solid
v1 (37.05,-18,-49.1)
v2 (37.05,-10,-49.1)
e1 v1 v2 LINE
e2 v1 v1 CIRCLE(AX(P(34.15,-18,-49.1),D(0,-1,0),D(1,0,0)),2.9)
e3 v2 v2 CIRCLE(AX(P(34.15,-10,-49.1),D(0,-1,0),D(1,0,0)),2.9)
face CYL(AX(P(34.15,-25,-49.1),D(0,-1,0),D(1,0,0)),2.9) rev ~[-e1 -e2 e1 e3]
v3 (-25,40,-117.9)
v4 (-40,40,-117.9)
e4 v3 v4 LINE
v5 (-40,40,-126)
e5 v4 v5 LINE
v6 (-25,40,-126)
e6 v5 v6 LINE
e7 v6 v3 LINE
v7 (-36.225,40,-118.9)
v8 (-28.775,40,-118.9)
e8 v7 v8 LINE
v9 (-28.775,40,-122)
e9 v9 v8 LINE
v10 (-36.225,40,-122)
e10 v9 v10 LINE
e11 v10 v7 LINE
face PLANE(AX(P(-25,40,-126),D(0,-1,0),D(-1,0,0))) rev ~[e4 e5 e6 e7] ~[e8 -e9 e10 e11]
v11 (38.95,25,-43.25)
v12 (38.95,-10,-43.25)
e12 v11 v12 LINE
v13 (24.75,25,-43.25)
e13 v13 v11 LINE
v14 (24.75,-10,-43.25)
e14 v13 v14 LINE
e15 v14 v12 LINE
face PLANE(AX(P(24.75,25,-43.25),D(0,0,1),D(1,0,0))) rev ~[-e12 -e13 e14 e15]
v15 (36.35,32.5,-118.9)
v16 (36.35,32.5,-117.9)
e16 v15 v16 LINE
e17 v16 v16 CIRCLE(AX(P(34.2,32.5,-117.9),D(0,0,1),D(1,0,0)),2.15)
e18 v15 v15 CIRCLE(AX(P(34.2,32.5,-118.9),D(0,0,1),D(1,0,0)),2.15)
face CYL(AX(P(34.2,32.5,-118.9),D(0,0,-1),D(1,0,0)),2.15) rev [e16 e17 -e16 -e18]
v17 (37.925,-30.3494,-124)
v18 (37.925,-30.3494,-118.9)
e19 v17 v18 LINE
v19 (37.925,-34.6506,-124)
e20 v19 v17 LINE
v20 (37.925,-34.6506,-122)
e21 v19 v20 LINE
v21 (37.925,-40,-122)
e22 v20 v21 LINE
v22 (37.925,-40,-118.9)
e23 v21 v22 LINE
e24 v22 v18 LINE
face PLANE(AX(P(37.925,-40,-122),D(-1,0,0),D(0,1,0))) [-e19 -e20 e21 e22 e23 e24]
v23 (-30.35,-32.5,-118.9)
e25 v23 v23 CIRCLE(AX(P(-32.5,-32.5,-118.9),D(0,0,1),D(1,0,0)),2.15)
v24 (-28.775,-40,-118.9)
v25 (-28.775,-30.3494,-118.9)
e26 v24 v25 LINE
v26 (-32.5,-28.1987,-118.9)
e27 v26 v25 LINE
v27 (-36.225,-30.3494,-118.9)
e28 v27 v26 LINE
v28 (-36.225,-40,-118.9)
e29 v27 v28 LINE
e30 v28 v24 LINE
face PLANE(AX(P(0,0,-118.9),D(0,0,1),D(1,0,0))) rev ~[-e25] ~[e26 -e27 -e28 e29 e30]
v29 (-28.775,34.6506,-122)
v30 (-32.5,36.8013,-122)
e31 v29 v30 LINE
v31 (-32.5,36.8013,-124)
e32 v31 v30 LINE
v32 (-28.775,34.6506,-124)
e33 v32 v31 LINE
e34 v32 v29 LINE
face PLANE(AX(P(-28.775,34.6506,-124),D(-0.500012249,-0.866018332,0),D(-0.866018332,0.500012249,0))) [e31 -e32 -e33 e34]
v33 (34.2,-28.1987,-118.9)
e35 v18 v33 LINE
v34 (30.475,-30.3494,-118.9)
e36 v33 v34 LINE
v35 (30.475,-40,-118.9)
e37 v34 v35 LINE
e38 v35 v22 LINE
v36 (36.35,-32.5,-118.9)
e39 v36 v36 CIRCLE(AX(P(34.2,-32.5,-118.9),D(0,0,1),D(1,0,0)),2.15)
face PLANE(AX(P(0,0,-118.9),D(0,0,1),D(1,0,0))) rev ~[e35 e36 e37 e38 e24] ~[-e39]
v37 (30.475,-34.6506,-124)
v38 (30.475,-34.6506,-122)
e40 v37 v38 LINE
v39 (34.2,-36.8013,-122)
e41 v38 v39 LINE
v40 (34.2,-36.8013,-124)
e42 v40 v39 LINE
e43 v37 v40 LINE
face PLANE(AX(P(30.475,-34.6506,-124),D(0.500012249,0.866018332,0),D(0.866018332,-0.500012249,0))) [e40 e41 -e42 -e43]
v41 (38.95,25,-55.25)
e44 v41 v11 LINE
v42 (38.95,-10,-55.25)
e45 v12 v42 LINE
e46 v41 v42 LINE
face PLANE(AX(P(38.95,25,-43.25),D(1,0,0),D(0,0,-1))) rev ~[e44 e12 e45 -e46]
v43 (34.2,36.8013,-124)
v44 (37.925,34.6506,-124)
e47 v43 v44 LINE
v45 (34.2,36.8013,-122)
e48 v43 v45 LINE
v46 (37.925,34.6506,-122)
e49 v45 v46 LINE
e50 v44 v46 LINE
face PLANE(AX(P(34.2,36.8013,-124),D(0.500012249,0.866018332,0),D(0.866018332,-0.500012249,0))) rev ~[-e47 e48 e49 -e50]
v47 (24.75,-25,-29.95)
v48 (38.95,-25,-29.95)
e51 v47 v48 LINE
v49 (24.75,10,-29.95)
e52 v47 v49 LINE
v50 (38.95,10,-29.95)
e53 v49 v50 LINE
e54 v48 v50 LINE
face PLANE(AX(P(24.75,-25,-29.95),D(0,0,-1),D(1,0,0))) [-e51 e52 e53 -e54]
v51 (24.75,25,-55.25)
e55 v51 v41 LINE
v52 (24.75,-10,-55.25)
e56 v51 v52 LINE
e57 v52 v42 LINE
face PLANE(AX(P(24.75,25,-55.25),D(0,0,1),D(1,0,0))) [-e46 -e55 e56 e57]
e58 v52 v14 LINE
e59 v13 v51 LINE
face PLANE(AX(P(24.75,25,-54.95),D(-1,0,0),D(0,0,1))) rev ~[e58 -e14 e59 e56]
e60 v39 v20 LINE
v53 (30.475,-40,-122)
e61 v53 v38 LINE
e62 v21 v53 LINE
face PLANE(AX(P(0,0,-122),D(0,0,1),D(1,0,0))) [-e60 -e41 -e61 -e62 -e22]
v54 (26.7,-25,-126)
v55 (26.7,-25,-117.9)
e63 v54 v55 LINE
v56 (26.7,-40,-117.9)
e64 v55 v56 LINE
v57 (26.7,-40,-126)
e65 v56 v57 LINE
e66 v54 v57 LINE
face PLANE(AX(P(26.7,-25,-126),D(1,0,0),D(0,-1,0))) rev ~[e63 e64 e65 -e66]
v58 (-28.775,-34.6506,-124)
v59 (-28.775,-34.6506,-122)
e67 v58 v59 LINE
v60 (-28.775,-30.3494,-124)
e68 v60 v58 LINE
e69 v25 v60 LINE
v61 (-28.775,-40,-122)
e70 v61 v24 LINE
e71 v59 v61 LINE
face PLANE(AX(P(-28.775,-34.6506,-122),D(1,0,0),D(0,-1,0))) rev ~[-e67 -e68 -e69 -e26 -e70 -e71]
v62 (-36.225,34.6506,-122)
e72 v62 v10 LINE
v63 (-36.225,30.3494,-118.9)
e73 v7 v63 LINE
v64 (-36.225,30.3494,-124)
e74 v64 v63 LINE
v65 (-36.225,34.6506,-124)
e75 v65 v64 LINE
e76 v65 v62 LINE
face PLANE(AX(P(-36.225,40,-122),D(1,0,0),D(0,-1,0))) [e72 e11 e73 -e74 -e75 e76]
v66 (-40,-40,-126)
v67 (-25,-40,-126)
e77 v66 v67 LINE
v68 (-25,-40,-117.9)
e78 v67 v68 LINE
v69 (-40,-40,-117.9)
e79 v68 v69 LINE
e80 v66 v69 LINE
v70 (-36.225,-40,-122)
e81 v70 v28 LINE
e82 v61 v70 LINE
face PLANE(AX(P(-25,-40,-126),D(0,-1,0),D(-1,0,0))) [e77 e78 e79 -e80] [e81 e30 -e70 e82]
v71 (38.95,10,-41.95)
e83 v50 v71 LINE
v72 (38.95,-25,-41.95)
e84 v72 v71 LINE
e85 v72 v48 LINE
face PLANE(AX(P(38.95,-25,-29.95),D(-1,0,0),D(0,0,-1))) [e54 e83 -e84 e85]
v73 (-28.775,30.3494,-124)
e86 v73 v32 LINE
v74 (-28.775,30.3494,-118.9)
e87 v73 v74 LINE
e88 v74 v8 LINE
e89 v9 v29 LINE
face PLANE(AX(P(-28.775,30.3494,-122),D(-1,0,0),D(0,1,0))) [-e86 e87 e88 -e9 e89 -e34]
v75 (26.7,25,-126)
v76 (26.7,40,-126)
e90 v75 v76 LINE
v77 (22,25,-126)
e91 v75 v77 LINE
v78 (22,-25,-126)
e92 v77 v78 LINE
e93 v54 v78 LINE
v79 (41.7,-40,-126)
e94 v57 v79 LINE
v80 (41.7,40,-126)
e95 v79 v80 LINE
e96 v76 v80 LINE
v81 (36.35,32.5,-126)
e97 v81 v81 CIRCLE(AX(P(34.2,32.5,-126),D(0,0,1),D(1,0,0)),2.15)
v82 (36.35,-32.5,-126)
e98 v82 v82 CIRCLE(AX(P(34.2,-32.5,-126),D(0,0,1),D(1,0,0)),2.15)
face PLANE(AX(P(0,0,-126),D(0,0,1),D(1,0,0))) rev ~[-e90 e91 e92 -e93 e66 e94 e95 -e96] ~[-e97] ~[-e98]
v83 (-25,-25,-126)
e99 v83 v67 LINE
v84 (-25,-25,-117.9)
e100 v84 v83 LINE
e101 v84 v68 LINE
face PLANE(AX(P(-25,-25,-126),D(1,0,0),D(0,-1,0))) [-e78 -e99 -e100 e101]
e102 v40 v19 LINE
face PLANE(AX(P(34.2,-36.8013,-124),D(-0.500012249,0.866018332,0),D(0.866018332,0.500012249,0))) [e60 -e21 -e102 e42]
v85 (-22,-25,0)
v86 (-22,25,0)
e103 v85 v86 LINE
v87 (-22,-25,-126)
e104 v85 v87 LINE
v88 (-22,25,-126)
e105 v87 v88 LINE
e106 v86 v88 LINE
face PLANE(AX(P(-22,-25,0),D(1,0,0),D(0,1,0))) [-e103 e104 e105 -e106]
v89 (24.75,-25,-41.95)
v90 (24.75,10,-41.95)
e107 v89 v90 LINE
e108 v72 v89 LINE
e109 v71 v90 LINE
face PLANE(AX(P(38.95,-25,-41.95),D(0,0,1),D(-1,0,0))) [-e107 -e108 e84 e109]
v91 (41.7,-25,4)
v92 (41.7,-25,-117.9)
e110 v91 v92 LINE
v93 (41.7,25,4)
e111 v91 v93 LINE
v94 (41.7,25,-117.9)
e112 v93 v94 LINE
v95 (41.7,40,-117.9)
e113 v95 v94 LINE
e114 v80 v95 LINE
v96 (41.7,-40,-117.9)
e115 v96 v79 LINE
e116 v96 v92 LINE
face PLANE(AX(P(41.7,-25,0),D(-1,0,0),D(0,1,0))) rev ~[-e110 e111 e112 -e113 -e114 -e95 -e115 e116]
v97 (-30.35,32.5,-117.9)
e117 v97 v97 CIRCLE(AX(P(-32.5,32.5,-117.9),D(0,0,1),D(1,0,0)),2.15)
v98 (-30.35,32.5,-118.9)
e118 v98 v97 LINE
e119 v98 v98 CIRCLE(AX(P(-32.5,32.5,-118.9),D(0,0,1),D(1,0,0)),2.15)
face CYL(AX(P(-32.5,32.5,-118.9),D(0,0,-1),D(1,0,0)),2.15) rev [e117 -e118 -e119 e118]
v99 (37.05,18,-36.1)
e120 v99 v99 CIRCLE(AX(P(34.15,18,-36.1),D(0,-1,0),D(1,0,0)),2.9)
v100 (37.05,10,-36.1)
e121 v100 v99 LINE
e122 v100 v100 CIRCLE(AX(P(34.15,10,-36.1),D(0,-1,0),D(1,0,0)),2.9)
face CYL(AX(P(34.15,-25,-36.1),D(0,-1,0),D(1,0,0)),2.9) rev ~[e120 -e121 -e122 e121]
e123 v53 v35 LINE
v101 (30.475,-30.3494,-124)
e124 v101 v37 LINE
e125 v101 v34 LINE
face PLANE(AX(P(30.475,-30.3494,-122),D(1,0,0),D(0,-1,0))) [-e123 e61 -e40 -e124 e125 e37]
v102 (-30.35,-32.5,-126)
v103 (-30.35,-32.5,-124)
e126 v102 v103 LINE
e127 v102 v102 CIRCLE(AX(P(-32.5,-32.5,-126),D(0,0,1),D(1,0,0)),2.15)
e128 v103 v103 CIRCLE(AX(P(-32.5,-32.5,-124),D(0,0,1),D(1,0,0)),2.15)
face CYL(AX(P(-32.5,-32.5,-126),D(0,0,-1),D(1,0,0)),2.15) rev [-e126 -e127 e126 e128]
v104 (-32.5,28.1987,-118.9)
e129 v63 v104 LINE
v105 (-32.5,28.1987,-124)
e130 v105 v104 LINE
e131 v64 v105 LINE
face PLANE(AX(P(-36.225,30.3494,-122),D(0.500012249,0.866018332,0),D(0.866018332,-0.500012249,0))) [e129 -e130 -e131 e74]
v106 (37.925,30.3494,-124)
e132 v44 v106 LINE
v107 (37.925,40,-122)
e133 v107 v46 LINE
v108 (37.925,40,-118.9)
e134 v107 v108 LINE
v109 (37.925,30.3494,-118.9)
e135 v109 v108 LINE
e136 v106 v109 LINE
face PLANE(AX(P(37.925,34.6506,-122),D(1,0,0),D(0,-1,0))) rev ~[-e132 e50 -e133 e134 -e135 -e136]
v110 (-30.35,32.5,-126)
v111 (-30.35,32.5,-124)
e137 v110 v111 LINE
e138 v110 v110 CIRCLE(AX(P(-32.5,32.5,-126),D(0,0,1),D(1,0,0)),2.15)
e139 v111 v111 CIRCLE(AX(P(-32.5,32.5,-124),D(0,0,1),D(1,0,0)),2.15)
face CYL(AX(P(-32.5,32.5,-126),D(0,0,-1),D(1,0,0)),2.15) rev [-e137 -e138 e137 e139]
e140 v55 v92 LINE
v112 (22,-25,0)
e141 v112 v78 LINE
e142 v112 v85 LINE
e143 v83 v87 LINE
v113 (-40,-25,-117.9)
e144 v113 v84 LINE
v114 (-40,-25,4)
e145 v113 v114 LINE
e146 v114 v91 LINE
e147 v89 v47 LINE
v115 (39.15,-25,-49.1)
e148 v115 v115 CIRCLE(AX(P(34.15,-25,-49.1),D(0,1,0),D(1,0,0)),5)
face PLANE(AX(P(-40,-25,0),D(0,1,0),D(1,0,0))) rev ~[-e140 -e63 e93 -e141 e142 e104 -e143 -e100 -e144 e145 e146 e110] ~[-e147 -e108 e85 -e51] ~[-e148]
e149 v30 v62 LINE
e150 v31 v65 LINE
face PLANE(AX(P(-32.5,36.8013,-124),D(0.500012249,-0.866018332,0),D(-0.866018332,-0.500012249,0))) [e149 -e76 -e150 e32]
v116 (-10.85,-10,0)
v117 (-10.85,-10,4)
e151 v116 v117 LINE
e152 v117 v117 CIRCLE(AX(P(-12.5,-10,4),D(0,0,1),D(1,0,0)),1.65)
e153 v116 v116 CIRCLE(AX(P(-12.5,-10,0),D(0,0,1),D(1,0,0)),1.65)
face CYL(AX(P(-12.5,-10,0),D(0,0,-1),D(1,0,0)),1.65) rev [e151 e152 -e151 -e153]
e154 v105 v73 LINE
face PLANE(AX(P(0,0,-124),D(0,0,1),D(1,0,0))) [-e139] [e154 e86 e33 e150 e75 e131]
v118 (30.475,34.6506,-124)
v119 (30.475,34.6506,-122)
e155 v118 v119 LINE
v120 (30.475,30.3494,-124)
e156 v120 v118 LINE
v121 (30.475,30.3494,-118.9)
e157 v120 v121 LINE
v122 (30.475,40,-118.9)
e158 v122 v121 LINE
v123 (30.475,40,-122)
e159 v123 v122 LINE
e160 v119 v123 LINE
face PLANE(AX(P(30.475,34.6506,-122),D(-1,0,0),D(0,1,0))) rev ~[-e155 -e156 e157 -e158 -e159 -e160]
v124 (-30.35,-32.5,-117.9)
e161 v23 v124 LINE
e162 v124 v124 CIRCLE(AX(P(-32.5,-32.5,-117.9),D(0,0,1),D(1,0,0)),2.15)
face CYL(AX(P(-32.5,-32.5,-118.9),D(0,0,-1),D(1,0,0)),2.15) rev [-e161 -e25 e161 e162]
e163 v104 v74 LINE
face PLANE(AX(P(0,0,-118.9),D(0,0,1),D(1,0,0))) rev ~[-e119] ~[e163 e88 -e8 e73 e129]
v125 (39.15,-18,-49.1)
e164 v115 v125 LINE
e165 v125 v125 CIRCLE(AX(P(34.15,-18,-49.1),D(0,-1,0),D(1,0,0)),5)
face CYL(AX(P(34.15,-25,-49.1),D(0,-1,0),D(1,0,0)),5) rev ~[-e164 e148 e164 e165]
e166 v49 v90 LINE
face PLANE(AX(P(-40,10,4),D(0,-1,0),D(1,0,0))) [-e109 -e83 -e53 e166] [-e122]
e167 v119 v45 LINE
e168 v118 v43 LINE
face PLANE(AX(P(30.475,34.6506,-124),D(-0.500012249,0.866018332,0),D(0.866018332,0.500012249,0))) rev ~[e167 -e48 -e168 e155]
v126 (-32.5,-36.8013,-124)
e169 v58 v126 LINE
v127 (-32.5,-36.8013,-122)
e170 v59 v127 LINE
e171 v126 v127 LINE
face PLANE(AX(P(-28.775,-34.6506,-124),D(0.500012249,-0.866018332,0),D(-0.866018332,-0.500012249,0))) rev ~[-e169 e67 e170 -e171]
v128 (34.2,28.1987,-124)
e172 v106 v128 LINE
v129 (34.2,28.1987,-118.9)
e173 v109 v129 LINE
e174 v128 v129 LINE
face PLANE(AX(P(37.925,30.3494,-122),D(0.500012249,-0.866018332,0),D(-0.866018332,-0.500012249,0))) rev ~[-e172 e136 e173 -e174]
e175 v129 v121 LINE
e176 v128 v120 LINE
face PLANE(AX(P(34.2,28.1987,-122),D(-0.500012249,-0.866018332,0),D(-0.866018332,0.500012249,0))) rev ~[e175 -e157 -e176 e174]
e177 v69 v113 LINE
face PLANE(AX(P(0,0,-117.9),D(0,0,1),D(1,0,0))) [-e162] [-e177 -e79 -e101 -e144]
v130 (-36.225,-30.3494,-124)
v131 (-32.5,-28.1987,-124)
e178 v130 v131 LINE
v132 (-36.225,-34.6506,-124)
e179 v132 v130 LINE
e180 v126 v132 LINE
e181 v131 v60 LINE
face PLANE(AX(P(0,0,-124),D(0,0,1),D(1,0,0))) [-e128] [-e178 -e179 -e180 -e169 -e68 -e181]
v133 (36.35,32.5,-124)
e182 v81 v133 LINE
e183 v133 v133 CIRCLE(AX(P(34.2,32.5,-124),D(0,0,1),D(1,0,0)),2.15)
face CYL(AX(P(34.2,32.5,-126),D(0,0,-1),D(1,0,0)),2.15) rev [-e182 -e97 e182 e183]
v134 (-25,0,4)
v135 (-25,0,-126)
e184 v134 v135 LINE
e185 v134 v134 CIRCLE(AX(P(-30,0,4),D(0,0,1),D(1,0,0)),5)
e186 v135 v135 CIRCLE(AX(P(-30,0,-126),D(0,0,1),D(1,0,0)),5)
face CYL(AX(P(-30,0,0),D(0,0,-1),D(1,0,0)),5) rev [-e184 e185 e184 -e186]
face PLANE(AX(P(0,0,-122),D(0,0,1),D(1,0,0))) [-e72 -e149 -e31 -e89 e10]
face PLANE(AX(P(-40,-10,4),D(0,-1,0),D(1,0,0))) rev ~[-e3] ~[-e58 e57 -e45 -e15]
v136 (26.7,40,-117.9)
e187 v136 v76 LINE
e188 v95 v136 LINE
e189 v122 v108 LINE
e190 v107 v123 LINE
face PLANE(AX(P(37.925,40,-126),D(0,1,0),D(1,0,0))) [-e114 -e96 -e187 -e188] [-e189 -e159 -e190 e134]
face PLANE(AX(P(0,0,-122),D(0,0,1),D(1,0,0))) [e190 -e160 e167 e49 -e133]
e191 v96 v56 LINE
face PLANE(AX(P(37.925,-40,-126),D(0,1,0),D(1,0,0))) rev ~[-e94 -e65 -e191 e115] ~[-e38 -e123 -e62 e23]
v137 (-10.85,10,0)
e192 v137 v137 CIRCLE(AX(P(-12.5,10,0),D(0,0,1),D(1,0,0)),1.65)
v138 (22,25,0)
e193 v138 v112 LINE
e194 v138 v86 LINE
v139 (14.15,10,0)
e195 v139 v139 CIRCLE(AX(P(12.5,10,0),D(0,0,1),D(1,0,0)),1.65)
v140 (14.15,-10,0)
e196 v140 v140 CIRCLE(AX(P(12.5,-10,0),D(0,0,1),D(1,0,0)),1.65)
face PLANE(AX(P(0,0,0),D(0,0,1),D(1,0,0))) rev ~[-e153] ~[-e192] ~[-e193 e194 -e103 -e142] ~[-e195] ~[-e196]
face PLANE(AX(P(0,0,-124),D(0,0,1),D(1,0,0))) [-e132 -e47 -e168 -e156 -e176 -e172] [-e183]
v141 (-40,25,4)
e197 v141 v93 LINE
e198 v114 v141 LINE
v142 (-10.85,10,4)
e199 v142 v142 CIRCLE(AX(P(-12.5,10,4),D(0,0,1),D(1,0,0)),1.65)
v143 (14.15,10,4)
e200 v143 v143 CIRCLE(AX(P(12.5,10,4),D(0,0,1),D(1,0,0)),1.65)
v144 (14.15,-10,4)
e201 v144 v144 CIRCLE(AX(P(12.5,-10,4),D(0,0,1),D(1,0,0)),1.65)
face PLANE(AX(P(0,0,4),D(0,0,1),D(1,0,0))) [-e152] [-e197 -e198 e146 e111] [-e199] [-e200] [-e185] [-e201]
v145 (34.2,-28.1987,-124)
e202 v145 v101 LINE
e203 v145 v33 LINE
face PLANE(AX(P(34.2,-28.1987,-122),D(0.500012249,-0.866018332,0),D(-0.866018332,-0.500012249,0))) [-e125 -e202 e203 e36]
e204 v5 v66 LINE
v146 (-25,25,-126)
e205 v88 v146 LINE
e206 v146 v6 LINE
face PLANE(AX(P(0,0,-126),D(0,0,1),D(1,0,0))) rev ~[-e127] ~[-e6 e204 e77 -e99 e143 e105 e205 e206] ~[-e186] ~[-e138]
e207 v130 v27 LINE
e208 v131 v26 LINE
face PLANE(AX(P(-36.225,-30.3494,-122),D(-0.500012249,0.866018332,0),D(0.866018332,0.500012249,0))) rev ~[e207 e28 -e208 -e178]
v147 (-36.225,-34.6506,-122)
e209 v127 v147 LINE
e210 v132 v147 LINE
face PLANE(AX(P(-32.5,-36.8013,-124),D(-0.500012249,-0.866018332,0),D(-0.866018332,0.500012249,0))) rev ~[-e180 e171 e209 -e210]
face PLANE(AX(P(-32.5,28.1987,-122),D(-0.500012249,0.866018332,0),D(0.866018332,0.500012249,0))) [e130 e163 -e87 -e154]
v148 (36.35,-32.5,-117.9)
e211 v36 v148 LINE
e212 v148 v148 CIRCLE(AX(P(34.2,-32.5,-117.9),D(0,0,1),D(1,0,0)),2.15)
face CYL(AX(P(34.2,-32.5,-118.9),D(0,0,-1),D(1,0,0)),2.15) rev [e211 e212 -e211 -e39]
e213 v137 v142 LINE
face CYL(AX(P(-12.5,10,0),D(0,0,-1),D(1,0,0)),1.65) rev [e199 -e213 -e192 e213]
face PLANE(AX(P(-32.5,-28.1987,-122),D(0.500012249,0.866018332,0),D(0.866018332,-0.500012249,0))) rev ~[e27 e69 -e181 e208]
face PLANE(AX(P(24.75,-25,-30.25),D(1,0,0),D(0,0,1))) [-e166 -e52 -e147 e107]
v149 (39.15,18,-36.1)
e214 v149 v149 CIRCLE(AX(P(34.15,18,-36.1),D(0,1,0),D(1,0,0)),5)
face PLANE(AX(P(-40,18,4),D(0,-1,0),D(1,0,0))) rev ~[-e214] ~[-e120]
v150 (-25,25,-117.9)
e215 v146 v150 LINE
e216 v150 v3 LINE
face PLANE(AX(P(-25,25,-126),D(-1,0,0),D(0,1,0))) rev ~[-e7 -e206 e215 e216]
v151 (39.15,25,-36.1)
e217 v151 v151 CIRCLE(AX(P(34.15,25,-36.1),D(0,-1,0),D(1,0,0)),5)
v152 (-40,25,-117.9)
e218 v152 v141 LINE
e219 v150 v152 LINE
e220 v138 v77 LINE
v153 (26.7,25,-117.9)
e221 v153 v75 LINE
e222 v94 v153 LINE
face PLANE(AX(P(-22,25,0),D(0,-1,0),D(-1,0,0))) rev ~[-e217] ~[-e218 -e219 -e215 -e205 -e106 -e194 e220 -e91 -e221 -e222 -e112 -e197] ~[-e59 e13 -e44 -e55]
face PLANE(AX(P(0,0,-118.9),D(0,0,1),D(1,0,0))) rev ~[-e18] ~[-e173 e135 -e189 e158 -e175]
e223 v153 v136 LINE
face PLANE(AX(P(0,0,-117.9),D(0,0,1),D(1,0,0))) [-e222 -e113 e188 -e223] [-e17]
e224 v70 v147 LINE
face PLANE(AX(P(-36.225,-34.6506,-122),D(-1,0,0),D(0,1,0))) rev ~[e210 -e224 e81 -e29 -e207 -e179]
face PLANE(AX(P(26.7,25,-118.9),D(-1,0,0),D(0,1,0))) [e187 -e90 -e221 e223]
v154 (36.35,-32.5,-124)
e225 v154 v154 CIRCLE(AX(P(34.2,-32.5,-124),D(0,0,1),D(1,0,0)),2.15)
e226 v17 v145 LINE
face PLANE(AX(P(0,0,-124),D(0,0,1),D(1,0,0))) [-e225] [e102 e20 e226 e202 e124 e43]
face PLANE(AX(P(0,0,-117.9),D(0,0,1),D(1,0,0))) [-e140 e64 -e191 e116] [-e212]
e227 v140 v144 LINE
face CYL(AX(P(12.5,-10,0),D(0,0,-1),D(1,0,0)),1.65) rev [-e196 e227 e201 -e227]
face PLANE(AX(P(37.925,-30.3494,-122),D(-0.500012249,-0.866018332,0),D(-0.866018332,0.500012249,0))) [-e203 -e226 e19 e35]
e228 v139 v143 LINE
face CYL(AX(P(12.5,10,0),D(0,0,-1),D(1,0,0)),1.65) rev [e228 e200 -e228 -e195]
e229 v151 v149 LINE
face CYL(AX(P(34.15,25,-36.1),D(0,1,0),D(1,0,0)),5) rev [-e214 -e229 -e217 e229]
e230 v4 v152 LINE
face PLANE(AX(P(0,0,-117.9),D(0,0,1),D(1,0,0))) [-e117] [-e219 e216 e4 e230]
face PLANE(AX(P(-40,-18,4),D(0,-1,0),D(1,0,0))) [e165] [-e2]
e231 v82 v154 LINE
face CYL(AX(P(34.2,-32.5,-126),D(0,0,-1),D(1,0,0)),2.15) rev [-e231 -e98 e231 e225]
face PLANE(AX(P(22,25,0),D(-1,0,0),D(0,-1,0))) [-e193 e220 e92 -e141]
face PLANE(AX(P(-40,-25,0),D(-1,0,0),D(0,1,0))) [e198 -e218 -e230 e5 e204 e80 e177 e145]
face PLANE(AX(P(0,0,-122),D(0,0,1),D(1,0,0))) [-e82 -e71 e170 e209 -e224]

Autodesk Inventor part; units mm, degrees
sketch "S-ProbeHead-BaseSkizze" plane through (0, 0, 0) normal (0, 0, 1) x (1, 0, 0)
  line L0 (-40, 40) -> (40, 40)
  line L1 (40, 40) -> (40, -40)
  line L2 (40, -40) -> (-40, -40)
  line L3 (-40, -40) -> (-40, 40)
  line L4 (-40, 40) -> (40, -40) construction
  line L5 (40, 40) -> (-40, -40) construction
  line L6 (-56.34, 0) -> (58.04, 0) construction
  circle A0 centre (-30, 0) radius 5
  line L7 (0, 83.0683) -> (0, -88.0384) construction
  line L8 (-7.5, 58.6245) -> (-7.5, -60.8735) construction
  line L9 (-16, 21) -> (16, 21) construction
  line L10 (16, 21) -> (16, -21) construction
  line L11 (16, -21) -> (-16, -21) construction
  line L12 (-16, -21) -> (-16, 21) construction
  line L13 (-16, 21) -> (16, -21) construction
  line L14 (16, 21) -> (-16, -21) construction
  circle A1 centre (-12.5, -10) radius 1.65
  circle A2 centre (-12.5, 10) radius 1.65
  circle A3 centre (12.5, -10) radius 1.65
  circle A4 centre (12.5, 10) radius 1.65
  line L15 (-20, 57.6709) -> (-20, -63.5946)
  line L16 (7.5, 58.6245) -> (7.5, -60.8735) construction
  line L17 (20, 57.6709) -> (20, -63.5946)
  line L18 (41.7, 25) -> (-40, 25)
  line L19 (-40, 25) -> (-40, -25)
  line L20 (-40, -25) -> (41.7, -25)
  line L21 (41.7, -25) -> (41.7, 25)
  line L22 (22, 25) -> (22, -25)
  line L23 (-22, -25) -> (-22, 25)
  point P0 (0, 0)
  point P1 (41.7, 0)
  dimension "d1" = 80
  dimension "d2" = 80
  dimension "d4" = 10
  dimension "d6" = 30
  dimension "d20" = 7.5
  dimension "d21" = 32
  dimension "d22" = 42
  dimension "d23" = 3.3
  dimension "d24" = 10
  dimension "d25" = 12.5
  dimension "d26" = 20
  dimension "d27" = 50
  dimension "d30" = 20
  dimension "d31" = 21.7
  dimension "d32" = 2
  dimension "d37" = 2
extrude "BasePlate" add sketch "S-ProbeHead-BaseSkizze" along normal blind 4 contours L18 L23 L20 L3 | L18 L17 L20 L15 | L15 L20 L23 L18 | L18 L22 L20 L17 | L18 L21 L20 L1 | L1 L20 L22 L18
ref_plane "Endfläche-ProbeHeadarme" through (0, 0, -126) normal (0, 0, 1) x (1, 0, 0)
ref_plane "ProfilDownside" through (0, 0, -56) normal (0, 0, 1) x (1, 0, 0)
extrude "Arms" add sketch "S-ProbeHead-BaseSkizze" against normal up to surface (126 mm away) contours L18 L23 L20 L3 | L18 L21 L20 L1 | L1 L20 L22 L18
ref_plane "Z-UpperBelt" through (0, 0, -36.1) normal (0, 0, 1) x (1, 0, 0)
ref_plane "Z-LowerBelt" through (0, 0, -49.1) normal (0, 0, 1) x (1, 0, 0)
ref_plane "X-Belts" through (26.75, 0, 0) normal (1, 0, 0) x (0, 1, 0)
sketch "S-Tensioners" plane through (-40, -25, 4) normal (0, -1, 0) x (1, 0, 0)
  line L0 (64.75, -47.25) -> (78.95, -47.25)
  line L1 (78.95, -47.25) -> (78.95, -58.95)
  line L2 (78.95, -58.95) -> (64.75, -58.95)
  line L3 (64.75, -58.95) -> (64.75, -47.25)
  line L4 (64.75, -47.25) -> (78.95, -58.95) construction
  line L5 (78.95, -47.25) -> (64.75, -58.95) construction
  line L6 (71.85, -74) -> (71.85, 12.5724) construction
  line L7 (-16.34, -40.1) -> (98.04, -40.1) construction
  line L8 (-16.34, -53.1) -> (98.04, -53.1) construction
  circle A0 centre (74.15, -53.1) radius 2.9
  line L9 (64.75, -34.25) -> (78.95, -34.25)
  line L10 (78.95, -34.25) -> (78.95, -45.95)
  line L11 (78.95, -45.95) -> (64.75, -45.95)
  line L12 (64.75, -45.95) -> (64.75, -34.25)
  line L13 (64.75, -34.25) -> (78.95, -45.95) construction
  line L14 (78.95, -34.25) -> (64.75, -45.95) construction
  circle A1 centre (74.15, -40.1) radius 2.9
  circle A2 centre (74.15, -40.1) radius 5
  circle A3 centre (74.15, -53.1) radius 5
  line L15 (66.75, 41.0869) -> (66.75, -158.5145) construction
  line L16 (78.95, -34.25) -> (64.75, -34.25)
  line L17 (64.75, -34.25) -> (64.75, -33.95)
  line L18 (64.75, -33.95) -> (78.95, -33.95)
  line L19 (78.95, -33.95) -> (78.95, -34.25)
  line L20 (78.95, -58.95) -> (64.75, -58.95)
  line L21 (64.75, -58.95) -> (64.75, -59.25)
  line L22 (64.75, -59.25) -> (78.95, -59.25)
  line L23 (78.95, -59.25) -> (78.95, -58.95)
  point P0 (40, -4)
  point P1 (78.95, -40.1)
  point P2 (78.95, -53.1)
  dimension "d38" = 14.2
  dimension "d39" = 11.7
  dimension "d42" = 5.8
  dimension "d43" = 14.2
  dimension "d44" = 11.7
  dimension "d45" = 5.8
  dimension "d53" = 4.8
  dimension "d54" = 4.8
  dimension "d55" = 10
  dimension "d56" = 10
  dimension "d58" = 7.4
  dimension "d59" = 7.4
  dimension "d79" = 0.3
  dimension "d80" = 0.3
extrude "Ex-Tensioners1-Holes" cut sketch "S-Tensioners" against normal blind 50 contours A0 | A1
extrude "Ex-Tensioners2-SlideVolume" cut sketch "S-Tensioners" along normal blind 35 from surface at -50 contours L0 L1 A3 L2 L3 | L2 L23 L22 L21 | L1 A3 picked at (78.3167, -53.1)
extrude "Ex-Tensioners3-SlideVolume" cut sketch "S-Tensioners" against normal blind 35 contours L17 L18 L19 L9 | L9 L10 A2 L11 L12 | L10 A2 picked at (78.3167, -40.1)
extrude "Ex-Tensioners4-SrewHead" cut sketch "S-Tensioners" against normal blind 7 contours A3 L1 | L1 A3
extrude "Ex-Tensioners5-SrewHead" cut sketch "S-Tensioners" along normal blind 7 from surface at -50 contours A2 L10 | L10 A2
sketch "S-Anschraubpunkte-ProbeAntenna" plane through (0, 0, -126) normal (0, 0, 1) x (1, 0, 0)
  line L0 (-56.34, 0) -> (58.04, 0) construction
  line L1 (0, 74.3335) -> (0, -68.3114) construction
  line L2 (41.7, 25) -> (-40, 25) projected
  line L3 (41.7, -25) -> (41.7, 25) projected
  line L4 (-40, -25) -> (41.7, -25) projected
  line L5 (-40, 25) -> (-40, -25) projected
  line L6 (41.7, 25) -> (26.7, 25)
  line L7 (26.7, 25) -> (26.7, 40)
  line L8 (26.7, 40) -> (41.7, 40)
  line L9 (41.7, 40) -> (41.7, 25)
  line L10 (22, -25) -> (22, 25) projected
  line L11 (22, 25) -> (22, -25) projected
  line L12 (-22, 25) -> (-22, -25) projected
  line L13 (-22, -25) -> (-22, 25) projected
  line L14 (41.7, 32.5) -> (26.7, 32.5) construction
  line L15 (34.2, 40) -> (34.2, 25) construction
  circle A0 centre (34.2, 32.5) radius 2.15
  circle A1 centre (34.2, 32.5) radius 4 construction
  line L16 (0.85, 53.9557) -> (0.85, -47.9335) construction
  line L17 (-40, 25) -> (-25, 25)
  line L18 (-25, 25) -> (-25, 40)
  line L19 (-25, 40) -> (-40, 40)
  line L20 (-40, 40) -> (-40, 25)
  circle A2 centre (-32.5, 32.5) radius 2.15
  circle A3 centre (-32.5, 32.5) radius 4 construction
  line L21 (41.7, -25) -> (26.7, -25)
  line L22 (26.7, -25) -> (26.7, -40)
  line L23 (26.7, -40) -> (41.7, -40)
  line L24 (41.7, -40) -> (41.7, -25)
  circle A4 centre (34.2, -32.5) radius 2.15
  circle A5 centre (34.2, -32.5) radius 4 construction
  line L25 (-40, -40) -> (-40, -25)
  line L26 (-25, -40) -> (-40, -40)
  line L27 (-40, -25) -> (-25, -25)
  line L28 (-25, -25) -> (-25, -40)
  circle A6 centre (-32.5, -32.5) radius 4 construction
  circle A7 centre (-32.5, -32.5) radius 2.15
  line L29 (34.2, 28.1987) -> (30.475, 30.3494)
  line L30 (30.475, 30.3494) -> (30.475, 40)
  line L31 (30.475, 34.6506) -> (34.2, 36.8013)
  line L32 (34.2, 36.8013) -> (37.925, 34.6506)
  line L33 (37.925, 40) -> (37.925, 30.3494)
  line L34 (37.925, 30.3494) -> (34.2, 28.1987)
  line L35 (34.2, -28.1987) -> (30.475, -30.3494)
  line L36 (30.475, -30.3494) -> (30.475, -40)
  line L37 (30.475, -34.6506) -> (34.2, -36.8013)
  line L38 (34.2, -36.8013) -> (37.925, -34.6506)
  line L39 (37.925, -40) -> (37.925, -30.3494)
  line L40 (37.925, -30.3494) -> (34.2, -28.1987)
  line L41 (-32.5, 28.1987) -> (-28.775, 30.3494)
  line L42 (-28.775, 30.3494) -> (-28.775, 40)
  line L43 (-28.775, 34.6506) -> (-32.5, 36.8013)
  line L44 (-32.5, 36.8013) -> (-36.225, 34.6506)
  line L45 (-36.225, 40) -> (-36.225, 30.3494)
  line L46 (-36.225, 30.3494) -> (-32.5, 28.1987)
  line L47 (-36.225, -40) -> (-36.225, -30.3494)
  line L48 (-32.5, -36.8013) -> (-36.225, -34.6506)
  line L49 (-28.775, -34.6506) -> (-32.5, -36.8013)
  line L50 (-28.775, -30.3494) -> (-28.775, -40)
  line L51 (-32.5, -28.1987) -> (-28.775, -30.3494)
  line L52 (-36.225, -30.3494) -> (-32.5, -28.1987)
  point P0 (0, 0)
  dimension "d46" = 50
  dimension "d67" = 15
  dimension "d68" = 15
  dimension "d69" = 4.3
  dimension "d70" = 8
  dimension "d71" = 81.7
  dimension "d72" = 40.85
  dimension "d75" = 65
  dimension "d76" = 66.7
  dimension "d81" = 7.45
extrude "Ex-Anschraubpunkte-Eb1" add sketch "S-Anschraubpunkte-ProbeAntenna" along normal blind 2 contours L2 L7 L8 L30 L29 L34 L33 L9 | L24 L23 L39 L40 L35 L36 L22 L4 | L33 L32 L31 L30 L8 | L23 L36 L37 L38 L39 | L33 L34 L29 L30 L31 L32 | L2 L20 L19 L45 L46 L41 L42 L18 | L38 L37 L36 L35 L40 L39 | L28 L26 L50 L51 L52 L47 L25 L4 | L42 L43 L44 L45 L19 | L42 L41 L46 L45 L44 L43 | L26 L47 L48 L49 L50 | L49 L48 L47 L52 L51 L50
extrude "Ex-Anschraubpunkte-Eb2" add sketch "S-Anschraubpunkte-ProbeAntenna" along normal blind 2 from surface at 2 contours L2 L7 L8 L30 L29 L34 L33 L9 | L24 L23 L39 L40 L35 L36 L22 L4 | L33 L32 L31 L30 L8 | L23 L36 L37 L38 L39 | L2 L20 L19 L45 L46 L41 L42 L18 | L28 L26 L50 L51 L52 L47 L25 L4 | L42 L43 L44 L45 L19 | L26 L47 L48 L49 L50
extrude "Ex-Anschraubpunkte-Eb3" add sketch "S-Anschraubpunkte-ProbeAntenna" along normal blind 3.1 from surface at 4 contours L2 L7 L8 L30 L29 L34 L33 L9 | L24 L23 L39 L40 L35 L36 L22 L4 | L2 L20 L19 L45 L46 L41 L42 L18 | L28 L26 L50 L51 L52 L47 L25 L4
extrude "Ex-Anschraubpunkte-Eb4" add sketch "S-Anschraubpunkte-ProbeAntenna" along normal blind 1 from surface at 7.1 contours L2 L7 L8 L30 L29 L34 L33 L9 | L24 L23 L39 L40 L35 L36 L22 L4 | L33 L32 L31 L30 L8 | L23 L36 L37 L38 L39 | L33 L34 L29 L30 L31 L32 | L2 L20 L19 L45 L46 L41 L42 L18 | L38 L37 L36 L35 L40 L39 | L28 L26 L50 L51 L52 L47 L25 L4 | L42 L43 L44 L45 L19 | L42 L41 L46 L45 L44 L43 | L26 L47 L48 L49 L50 | L49 L48 L47 L52 L51 L50
ref_plane "Anschraubpunkt-Spiegelebene" through (0.85, 53.9557, -126) normal (-1, 0, 0) x (0, -1, 0)
ref_plane "ProfilTopSide" through (0, 0, -16) normal (0, 0, 1) x (1, 0, 0)
equation "\"d43\" = d38"
equation "\"d44\" = d39"
equation "\"d45\" = d42"
equation "\"d53\" = d54"
equation "\"d55\" = d56"
equation "\"d58\" = d59"
equation "\"d80\" = d79"
equation "\"d72\" = 0.5 * d71"
properties part number "ProbeHead-BaseBody V2"
